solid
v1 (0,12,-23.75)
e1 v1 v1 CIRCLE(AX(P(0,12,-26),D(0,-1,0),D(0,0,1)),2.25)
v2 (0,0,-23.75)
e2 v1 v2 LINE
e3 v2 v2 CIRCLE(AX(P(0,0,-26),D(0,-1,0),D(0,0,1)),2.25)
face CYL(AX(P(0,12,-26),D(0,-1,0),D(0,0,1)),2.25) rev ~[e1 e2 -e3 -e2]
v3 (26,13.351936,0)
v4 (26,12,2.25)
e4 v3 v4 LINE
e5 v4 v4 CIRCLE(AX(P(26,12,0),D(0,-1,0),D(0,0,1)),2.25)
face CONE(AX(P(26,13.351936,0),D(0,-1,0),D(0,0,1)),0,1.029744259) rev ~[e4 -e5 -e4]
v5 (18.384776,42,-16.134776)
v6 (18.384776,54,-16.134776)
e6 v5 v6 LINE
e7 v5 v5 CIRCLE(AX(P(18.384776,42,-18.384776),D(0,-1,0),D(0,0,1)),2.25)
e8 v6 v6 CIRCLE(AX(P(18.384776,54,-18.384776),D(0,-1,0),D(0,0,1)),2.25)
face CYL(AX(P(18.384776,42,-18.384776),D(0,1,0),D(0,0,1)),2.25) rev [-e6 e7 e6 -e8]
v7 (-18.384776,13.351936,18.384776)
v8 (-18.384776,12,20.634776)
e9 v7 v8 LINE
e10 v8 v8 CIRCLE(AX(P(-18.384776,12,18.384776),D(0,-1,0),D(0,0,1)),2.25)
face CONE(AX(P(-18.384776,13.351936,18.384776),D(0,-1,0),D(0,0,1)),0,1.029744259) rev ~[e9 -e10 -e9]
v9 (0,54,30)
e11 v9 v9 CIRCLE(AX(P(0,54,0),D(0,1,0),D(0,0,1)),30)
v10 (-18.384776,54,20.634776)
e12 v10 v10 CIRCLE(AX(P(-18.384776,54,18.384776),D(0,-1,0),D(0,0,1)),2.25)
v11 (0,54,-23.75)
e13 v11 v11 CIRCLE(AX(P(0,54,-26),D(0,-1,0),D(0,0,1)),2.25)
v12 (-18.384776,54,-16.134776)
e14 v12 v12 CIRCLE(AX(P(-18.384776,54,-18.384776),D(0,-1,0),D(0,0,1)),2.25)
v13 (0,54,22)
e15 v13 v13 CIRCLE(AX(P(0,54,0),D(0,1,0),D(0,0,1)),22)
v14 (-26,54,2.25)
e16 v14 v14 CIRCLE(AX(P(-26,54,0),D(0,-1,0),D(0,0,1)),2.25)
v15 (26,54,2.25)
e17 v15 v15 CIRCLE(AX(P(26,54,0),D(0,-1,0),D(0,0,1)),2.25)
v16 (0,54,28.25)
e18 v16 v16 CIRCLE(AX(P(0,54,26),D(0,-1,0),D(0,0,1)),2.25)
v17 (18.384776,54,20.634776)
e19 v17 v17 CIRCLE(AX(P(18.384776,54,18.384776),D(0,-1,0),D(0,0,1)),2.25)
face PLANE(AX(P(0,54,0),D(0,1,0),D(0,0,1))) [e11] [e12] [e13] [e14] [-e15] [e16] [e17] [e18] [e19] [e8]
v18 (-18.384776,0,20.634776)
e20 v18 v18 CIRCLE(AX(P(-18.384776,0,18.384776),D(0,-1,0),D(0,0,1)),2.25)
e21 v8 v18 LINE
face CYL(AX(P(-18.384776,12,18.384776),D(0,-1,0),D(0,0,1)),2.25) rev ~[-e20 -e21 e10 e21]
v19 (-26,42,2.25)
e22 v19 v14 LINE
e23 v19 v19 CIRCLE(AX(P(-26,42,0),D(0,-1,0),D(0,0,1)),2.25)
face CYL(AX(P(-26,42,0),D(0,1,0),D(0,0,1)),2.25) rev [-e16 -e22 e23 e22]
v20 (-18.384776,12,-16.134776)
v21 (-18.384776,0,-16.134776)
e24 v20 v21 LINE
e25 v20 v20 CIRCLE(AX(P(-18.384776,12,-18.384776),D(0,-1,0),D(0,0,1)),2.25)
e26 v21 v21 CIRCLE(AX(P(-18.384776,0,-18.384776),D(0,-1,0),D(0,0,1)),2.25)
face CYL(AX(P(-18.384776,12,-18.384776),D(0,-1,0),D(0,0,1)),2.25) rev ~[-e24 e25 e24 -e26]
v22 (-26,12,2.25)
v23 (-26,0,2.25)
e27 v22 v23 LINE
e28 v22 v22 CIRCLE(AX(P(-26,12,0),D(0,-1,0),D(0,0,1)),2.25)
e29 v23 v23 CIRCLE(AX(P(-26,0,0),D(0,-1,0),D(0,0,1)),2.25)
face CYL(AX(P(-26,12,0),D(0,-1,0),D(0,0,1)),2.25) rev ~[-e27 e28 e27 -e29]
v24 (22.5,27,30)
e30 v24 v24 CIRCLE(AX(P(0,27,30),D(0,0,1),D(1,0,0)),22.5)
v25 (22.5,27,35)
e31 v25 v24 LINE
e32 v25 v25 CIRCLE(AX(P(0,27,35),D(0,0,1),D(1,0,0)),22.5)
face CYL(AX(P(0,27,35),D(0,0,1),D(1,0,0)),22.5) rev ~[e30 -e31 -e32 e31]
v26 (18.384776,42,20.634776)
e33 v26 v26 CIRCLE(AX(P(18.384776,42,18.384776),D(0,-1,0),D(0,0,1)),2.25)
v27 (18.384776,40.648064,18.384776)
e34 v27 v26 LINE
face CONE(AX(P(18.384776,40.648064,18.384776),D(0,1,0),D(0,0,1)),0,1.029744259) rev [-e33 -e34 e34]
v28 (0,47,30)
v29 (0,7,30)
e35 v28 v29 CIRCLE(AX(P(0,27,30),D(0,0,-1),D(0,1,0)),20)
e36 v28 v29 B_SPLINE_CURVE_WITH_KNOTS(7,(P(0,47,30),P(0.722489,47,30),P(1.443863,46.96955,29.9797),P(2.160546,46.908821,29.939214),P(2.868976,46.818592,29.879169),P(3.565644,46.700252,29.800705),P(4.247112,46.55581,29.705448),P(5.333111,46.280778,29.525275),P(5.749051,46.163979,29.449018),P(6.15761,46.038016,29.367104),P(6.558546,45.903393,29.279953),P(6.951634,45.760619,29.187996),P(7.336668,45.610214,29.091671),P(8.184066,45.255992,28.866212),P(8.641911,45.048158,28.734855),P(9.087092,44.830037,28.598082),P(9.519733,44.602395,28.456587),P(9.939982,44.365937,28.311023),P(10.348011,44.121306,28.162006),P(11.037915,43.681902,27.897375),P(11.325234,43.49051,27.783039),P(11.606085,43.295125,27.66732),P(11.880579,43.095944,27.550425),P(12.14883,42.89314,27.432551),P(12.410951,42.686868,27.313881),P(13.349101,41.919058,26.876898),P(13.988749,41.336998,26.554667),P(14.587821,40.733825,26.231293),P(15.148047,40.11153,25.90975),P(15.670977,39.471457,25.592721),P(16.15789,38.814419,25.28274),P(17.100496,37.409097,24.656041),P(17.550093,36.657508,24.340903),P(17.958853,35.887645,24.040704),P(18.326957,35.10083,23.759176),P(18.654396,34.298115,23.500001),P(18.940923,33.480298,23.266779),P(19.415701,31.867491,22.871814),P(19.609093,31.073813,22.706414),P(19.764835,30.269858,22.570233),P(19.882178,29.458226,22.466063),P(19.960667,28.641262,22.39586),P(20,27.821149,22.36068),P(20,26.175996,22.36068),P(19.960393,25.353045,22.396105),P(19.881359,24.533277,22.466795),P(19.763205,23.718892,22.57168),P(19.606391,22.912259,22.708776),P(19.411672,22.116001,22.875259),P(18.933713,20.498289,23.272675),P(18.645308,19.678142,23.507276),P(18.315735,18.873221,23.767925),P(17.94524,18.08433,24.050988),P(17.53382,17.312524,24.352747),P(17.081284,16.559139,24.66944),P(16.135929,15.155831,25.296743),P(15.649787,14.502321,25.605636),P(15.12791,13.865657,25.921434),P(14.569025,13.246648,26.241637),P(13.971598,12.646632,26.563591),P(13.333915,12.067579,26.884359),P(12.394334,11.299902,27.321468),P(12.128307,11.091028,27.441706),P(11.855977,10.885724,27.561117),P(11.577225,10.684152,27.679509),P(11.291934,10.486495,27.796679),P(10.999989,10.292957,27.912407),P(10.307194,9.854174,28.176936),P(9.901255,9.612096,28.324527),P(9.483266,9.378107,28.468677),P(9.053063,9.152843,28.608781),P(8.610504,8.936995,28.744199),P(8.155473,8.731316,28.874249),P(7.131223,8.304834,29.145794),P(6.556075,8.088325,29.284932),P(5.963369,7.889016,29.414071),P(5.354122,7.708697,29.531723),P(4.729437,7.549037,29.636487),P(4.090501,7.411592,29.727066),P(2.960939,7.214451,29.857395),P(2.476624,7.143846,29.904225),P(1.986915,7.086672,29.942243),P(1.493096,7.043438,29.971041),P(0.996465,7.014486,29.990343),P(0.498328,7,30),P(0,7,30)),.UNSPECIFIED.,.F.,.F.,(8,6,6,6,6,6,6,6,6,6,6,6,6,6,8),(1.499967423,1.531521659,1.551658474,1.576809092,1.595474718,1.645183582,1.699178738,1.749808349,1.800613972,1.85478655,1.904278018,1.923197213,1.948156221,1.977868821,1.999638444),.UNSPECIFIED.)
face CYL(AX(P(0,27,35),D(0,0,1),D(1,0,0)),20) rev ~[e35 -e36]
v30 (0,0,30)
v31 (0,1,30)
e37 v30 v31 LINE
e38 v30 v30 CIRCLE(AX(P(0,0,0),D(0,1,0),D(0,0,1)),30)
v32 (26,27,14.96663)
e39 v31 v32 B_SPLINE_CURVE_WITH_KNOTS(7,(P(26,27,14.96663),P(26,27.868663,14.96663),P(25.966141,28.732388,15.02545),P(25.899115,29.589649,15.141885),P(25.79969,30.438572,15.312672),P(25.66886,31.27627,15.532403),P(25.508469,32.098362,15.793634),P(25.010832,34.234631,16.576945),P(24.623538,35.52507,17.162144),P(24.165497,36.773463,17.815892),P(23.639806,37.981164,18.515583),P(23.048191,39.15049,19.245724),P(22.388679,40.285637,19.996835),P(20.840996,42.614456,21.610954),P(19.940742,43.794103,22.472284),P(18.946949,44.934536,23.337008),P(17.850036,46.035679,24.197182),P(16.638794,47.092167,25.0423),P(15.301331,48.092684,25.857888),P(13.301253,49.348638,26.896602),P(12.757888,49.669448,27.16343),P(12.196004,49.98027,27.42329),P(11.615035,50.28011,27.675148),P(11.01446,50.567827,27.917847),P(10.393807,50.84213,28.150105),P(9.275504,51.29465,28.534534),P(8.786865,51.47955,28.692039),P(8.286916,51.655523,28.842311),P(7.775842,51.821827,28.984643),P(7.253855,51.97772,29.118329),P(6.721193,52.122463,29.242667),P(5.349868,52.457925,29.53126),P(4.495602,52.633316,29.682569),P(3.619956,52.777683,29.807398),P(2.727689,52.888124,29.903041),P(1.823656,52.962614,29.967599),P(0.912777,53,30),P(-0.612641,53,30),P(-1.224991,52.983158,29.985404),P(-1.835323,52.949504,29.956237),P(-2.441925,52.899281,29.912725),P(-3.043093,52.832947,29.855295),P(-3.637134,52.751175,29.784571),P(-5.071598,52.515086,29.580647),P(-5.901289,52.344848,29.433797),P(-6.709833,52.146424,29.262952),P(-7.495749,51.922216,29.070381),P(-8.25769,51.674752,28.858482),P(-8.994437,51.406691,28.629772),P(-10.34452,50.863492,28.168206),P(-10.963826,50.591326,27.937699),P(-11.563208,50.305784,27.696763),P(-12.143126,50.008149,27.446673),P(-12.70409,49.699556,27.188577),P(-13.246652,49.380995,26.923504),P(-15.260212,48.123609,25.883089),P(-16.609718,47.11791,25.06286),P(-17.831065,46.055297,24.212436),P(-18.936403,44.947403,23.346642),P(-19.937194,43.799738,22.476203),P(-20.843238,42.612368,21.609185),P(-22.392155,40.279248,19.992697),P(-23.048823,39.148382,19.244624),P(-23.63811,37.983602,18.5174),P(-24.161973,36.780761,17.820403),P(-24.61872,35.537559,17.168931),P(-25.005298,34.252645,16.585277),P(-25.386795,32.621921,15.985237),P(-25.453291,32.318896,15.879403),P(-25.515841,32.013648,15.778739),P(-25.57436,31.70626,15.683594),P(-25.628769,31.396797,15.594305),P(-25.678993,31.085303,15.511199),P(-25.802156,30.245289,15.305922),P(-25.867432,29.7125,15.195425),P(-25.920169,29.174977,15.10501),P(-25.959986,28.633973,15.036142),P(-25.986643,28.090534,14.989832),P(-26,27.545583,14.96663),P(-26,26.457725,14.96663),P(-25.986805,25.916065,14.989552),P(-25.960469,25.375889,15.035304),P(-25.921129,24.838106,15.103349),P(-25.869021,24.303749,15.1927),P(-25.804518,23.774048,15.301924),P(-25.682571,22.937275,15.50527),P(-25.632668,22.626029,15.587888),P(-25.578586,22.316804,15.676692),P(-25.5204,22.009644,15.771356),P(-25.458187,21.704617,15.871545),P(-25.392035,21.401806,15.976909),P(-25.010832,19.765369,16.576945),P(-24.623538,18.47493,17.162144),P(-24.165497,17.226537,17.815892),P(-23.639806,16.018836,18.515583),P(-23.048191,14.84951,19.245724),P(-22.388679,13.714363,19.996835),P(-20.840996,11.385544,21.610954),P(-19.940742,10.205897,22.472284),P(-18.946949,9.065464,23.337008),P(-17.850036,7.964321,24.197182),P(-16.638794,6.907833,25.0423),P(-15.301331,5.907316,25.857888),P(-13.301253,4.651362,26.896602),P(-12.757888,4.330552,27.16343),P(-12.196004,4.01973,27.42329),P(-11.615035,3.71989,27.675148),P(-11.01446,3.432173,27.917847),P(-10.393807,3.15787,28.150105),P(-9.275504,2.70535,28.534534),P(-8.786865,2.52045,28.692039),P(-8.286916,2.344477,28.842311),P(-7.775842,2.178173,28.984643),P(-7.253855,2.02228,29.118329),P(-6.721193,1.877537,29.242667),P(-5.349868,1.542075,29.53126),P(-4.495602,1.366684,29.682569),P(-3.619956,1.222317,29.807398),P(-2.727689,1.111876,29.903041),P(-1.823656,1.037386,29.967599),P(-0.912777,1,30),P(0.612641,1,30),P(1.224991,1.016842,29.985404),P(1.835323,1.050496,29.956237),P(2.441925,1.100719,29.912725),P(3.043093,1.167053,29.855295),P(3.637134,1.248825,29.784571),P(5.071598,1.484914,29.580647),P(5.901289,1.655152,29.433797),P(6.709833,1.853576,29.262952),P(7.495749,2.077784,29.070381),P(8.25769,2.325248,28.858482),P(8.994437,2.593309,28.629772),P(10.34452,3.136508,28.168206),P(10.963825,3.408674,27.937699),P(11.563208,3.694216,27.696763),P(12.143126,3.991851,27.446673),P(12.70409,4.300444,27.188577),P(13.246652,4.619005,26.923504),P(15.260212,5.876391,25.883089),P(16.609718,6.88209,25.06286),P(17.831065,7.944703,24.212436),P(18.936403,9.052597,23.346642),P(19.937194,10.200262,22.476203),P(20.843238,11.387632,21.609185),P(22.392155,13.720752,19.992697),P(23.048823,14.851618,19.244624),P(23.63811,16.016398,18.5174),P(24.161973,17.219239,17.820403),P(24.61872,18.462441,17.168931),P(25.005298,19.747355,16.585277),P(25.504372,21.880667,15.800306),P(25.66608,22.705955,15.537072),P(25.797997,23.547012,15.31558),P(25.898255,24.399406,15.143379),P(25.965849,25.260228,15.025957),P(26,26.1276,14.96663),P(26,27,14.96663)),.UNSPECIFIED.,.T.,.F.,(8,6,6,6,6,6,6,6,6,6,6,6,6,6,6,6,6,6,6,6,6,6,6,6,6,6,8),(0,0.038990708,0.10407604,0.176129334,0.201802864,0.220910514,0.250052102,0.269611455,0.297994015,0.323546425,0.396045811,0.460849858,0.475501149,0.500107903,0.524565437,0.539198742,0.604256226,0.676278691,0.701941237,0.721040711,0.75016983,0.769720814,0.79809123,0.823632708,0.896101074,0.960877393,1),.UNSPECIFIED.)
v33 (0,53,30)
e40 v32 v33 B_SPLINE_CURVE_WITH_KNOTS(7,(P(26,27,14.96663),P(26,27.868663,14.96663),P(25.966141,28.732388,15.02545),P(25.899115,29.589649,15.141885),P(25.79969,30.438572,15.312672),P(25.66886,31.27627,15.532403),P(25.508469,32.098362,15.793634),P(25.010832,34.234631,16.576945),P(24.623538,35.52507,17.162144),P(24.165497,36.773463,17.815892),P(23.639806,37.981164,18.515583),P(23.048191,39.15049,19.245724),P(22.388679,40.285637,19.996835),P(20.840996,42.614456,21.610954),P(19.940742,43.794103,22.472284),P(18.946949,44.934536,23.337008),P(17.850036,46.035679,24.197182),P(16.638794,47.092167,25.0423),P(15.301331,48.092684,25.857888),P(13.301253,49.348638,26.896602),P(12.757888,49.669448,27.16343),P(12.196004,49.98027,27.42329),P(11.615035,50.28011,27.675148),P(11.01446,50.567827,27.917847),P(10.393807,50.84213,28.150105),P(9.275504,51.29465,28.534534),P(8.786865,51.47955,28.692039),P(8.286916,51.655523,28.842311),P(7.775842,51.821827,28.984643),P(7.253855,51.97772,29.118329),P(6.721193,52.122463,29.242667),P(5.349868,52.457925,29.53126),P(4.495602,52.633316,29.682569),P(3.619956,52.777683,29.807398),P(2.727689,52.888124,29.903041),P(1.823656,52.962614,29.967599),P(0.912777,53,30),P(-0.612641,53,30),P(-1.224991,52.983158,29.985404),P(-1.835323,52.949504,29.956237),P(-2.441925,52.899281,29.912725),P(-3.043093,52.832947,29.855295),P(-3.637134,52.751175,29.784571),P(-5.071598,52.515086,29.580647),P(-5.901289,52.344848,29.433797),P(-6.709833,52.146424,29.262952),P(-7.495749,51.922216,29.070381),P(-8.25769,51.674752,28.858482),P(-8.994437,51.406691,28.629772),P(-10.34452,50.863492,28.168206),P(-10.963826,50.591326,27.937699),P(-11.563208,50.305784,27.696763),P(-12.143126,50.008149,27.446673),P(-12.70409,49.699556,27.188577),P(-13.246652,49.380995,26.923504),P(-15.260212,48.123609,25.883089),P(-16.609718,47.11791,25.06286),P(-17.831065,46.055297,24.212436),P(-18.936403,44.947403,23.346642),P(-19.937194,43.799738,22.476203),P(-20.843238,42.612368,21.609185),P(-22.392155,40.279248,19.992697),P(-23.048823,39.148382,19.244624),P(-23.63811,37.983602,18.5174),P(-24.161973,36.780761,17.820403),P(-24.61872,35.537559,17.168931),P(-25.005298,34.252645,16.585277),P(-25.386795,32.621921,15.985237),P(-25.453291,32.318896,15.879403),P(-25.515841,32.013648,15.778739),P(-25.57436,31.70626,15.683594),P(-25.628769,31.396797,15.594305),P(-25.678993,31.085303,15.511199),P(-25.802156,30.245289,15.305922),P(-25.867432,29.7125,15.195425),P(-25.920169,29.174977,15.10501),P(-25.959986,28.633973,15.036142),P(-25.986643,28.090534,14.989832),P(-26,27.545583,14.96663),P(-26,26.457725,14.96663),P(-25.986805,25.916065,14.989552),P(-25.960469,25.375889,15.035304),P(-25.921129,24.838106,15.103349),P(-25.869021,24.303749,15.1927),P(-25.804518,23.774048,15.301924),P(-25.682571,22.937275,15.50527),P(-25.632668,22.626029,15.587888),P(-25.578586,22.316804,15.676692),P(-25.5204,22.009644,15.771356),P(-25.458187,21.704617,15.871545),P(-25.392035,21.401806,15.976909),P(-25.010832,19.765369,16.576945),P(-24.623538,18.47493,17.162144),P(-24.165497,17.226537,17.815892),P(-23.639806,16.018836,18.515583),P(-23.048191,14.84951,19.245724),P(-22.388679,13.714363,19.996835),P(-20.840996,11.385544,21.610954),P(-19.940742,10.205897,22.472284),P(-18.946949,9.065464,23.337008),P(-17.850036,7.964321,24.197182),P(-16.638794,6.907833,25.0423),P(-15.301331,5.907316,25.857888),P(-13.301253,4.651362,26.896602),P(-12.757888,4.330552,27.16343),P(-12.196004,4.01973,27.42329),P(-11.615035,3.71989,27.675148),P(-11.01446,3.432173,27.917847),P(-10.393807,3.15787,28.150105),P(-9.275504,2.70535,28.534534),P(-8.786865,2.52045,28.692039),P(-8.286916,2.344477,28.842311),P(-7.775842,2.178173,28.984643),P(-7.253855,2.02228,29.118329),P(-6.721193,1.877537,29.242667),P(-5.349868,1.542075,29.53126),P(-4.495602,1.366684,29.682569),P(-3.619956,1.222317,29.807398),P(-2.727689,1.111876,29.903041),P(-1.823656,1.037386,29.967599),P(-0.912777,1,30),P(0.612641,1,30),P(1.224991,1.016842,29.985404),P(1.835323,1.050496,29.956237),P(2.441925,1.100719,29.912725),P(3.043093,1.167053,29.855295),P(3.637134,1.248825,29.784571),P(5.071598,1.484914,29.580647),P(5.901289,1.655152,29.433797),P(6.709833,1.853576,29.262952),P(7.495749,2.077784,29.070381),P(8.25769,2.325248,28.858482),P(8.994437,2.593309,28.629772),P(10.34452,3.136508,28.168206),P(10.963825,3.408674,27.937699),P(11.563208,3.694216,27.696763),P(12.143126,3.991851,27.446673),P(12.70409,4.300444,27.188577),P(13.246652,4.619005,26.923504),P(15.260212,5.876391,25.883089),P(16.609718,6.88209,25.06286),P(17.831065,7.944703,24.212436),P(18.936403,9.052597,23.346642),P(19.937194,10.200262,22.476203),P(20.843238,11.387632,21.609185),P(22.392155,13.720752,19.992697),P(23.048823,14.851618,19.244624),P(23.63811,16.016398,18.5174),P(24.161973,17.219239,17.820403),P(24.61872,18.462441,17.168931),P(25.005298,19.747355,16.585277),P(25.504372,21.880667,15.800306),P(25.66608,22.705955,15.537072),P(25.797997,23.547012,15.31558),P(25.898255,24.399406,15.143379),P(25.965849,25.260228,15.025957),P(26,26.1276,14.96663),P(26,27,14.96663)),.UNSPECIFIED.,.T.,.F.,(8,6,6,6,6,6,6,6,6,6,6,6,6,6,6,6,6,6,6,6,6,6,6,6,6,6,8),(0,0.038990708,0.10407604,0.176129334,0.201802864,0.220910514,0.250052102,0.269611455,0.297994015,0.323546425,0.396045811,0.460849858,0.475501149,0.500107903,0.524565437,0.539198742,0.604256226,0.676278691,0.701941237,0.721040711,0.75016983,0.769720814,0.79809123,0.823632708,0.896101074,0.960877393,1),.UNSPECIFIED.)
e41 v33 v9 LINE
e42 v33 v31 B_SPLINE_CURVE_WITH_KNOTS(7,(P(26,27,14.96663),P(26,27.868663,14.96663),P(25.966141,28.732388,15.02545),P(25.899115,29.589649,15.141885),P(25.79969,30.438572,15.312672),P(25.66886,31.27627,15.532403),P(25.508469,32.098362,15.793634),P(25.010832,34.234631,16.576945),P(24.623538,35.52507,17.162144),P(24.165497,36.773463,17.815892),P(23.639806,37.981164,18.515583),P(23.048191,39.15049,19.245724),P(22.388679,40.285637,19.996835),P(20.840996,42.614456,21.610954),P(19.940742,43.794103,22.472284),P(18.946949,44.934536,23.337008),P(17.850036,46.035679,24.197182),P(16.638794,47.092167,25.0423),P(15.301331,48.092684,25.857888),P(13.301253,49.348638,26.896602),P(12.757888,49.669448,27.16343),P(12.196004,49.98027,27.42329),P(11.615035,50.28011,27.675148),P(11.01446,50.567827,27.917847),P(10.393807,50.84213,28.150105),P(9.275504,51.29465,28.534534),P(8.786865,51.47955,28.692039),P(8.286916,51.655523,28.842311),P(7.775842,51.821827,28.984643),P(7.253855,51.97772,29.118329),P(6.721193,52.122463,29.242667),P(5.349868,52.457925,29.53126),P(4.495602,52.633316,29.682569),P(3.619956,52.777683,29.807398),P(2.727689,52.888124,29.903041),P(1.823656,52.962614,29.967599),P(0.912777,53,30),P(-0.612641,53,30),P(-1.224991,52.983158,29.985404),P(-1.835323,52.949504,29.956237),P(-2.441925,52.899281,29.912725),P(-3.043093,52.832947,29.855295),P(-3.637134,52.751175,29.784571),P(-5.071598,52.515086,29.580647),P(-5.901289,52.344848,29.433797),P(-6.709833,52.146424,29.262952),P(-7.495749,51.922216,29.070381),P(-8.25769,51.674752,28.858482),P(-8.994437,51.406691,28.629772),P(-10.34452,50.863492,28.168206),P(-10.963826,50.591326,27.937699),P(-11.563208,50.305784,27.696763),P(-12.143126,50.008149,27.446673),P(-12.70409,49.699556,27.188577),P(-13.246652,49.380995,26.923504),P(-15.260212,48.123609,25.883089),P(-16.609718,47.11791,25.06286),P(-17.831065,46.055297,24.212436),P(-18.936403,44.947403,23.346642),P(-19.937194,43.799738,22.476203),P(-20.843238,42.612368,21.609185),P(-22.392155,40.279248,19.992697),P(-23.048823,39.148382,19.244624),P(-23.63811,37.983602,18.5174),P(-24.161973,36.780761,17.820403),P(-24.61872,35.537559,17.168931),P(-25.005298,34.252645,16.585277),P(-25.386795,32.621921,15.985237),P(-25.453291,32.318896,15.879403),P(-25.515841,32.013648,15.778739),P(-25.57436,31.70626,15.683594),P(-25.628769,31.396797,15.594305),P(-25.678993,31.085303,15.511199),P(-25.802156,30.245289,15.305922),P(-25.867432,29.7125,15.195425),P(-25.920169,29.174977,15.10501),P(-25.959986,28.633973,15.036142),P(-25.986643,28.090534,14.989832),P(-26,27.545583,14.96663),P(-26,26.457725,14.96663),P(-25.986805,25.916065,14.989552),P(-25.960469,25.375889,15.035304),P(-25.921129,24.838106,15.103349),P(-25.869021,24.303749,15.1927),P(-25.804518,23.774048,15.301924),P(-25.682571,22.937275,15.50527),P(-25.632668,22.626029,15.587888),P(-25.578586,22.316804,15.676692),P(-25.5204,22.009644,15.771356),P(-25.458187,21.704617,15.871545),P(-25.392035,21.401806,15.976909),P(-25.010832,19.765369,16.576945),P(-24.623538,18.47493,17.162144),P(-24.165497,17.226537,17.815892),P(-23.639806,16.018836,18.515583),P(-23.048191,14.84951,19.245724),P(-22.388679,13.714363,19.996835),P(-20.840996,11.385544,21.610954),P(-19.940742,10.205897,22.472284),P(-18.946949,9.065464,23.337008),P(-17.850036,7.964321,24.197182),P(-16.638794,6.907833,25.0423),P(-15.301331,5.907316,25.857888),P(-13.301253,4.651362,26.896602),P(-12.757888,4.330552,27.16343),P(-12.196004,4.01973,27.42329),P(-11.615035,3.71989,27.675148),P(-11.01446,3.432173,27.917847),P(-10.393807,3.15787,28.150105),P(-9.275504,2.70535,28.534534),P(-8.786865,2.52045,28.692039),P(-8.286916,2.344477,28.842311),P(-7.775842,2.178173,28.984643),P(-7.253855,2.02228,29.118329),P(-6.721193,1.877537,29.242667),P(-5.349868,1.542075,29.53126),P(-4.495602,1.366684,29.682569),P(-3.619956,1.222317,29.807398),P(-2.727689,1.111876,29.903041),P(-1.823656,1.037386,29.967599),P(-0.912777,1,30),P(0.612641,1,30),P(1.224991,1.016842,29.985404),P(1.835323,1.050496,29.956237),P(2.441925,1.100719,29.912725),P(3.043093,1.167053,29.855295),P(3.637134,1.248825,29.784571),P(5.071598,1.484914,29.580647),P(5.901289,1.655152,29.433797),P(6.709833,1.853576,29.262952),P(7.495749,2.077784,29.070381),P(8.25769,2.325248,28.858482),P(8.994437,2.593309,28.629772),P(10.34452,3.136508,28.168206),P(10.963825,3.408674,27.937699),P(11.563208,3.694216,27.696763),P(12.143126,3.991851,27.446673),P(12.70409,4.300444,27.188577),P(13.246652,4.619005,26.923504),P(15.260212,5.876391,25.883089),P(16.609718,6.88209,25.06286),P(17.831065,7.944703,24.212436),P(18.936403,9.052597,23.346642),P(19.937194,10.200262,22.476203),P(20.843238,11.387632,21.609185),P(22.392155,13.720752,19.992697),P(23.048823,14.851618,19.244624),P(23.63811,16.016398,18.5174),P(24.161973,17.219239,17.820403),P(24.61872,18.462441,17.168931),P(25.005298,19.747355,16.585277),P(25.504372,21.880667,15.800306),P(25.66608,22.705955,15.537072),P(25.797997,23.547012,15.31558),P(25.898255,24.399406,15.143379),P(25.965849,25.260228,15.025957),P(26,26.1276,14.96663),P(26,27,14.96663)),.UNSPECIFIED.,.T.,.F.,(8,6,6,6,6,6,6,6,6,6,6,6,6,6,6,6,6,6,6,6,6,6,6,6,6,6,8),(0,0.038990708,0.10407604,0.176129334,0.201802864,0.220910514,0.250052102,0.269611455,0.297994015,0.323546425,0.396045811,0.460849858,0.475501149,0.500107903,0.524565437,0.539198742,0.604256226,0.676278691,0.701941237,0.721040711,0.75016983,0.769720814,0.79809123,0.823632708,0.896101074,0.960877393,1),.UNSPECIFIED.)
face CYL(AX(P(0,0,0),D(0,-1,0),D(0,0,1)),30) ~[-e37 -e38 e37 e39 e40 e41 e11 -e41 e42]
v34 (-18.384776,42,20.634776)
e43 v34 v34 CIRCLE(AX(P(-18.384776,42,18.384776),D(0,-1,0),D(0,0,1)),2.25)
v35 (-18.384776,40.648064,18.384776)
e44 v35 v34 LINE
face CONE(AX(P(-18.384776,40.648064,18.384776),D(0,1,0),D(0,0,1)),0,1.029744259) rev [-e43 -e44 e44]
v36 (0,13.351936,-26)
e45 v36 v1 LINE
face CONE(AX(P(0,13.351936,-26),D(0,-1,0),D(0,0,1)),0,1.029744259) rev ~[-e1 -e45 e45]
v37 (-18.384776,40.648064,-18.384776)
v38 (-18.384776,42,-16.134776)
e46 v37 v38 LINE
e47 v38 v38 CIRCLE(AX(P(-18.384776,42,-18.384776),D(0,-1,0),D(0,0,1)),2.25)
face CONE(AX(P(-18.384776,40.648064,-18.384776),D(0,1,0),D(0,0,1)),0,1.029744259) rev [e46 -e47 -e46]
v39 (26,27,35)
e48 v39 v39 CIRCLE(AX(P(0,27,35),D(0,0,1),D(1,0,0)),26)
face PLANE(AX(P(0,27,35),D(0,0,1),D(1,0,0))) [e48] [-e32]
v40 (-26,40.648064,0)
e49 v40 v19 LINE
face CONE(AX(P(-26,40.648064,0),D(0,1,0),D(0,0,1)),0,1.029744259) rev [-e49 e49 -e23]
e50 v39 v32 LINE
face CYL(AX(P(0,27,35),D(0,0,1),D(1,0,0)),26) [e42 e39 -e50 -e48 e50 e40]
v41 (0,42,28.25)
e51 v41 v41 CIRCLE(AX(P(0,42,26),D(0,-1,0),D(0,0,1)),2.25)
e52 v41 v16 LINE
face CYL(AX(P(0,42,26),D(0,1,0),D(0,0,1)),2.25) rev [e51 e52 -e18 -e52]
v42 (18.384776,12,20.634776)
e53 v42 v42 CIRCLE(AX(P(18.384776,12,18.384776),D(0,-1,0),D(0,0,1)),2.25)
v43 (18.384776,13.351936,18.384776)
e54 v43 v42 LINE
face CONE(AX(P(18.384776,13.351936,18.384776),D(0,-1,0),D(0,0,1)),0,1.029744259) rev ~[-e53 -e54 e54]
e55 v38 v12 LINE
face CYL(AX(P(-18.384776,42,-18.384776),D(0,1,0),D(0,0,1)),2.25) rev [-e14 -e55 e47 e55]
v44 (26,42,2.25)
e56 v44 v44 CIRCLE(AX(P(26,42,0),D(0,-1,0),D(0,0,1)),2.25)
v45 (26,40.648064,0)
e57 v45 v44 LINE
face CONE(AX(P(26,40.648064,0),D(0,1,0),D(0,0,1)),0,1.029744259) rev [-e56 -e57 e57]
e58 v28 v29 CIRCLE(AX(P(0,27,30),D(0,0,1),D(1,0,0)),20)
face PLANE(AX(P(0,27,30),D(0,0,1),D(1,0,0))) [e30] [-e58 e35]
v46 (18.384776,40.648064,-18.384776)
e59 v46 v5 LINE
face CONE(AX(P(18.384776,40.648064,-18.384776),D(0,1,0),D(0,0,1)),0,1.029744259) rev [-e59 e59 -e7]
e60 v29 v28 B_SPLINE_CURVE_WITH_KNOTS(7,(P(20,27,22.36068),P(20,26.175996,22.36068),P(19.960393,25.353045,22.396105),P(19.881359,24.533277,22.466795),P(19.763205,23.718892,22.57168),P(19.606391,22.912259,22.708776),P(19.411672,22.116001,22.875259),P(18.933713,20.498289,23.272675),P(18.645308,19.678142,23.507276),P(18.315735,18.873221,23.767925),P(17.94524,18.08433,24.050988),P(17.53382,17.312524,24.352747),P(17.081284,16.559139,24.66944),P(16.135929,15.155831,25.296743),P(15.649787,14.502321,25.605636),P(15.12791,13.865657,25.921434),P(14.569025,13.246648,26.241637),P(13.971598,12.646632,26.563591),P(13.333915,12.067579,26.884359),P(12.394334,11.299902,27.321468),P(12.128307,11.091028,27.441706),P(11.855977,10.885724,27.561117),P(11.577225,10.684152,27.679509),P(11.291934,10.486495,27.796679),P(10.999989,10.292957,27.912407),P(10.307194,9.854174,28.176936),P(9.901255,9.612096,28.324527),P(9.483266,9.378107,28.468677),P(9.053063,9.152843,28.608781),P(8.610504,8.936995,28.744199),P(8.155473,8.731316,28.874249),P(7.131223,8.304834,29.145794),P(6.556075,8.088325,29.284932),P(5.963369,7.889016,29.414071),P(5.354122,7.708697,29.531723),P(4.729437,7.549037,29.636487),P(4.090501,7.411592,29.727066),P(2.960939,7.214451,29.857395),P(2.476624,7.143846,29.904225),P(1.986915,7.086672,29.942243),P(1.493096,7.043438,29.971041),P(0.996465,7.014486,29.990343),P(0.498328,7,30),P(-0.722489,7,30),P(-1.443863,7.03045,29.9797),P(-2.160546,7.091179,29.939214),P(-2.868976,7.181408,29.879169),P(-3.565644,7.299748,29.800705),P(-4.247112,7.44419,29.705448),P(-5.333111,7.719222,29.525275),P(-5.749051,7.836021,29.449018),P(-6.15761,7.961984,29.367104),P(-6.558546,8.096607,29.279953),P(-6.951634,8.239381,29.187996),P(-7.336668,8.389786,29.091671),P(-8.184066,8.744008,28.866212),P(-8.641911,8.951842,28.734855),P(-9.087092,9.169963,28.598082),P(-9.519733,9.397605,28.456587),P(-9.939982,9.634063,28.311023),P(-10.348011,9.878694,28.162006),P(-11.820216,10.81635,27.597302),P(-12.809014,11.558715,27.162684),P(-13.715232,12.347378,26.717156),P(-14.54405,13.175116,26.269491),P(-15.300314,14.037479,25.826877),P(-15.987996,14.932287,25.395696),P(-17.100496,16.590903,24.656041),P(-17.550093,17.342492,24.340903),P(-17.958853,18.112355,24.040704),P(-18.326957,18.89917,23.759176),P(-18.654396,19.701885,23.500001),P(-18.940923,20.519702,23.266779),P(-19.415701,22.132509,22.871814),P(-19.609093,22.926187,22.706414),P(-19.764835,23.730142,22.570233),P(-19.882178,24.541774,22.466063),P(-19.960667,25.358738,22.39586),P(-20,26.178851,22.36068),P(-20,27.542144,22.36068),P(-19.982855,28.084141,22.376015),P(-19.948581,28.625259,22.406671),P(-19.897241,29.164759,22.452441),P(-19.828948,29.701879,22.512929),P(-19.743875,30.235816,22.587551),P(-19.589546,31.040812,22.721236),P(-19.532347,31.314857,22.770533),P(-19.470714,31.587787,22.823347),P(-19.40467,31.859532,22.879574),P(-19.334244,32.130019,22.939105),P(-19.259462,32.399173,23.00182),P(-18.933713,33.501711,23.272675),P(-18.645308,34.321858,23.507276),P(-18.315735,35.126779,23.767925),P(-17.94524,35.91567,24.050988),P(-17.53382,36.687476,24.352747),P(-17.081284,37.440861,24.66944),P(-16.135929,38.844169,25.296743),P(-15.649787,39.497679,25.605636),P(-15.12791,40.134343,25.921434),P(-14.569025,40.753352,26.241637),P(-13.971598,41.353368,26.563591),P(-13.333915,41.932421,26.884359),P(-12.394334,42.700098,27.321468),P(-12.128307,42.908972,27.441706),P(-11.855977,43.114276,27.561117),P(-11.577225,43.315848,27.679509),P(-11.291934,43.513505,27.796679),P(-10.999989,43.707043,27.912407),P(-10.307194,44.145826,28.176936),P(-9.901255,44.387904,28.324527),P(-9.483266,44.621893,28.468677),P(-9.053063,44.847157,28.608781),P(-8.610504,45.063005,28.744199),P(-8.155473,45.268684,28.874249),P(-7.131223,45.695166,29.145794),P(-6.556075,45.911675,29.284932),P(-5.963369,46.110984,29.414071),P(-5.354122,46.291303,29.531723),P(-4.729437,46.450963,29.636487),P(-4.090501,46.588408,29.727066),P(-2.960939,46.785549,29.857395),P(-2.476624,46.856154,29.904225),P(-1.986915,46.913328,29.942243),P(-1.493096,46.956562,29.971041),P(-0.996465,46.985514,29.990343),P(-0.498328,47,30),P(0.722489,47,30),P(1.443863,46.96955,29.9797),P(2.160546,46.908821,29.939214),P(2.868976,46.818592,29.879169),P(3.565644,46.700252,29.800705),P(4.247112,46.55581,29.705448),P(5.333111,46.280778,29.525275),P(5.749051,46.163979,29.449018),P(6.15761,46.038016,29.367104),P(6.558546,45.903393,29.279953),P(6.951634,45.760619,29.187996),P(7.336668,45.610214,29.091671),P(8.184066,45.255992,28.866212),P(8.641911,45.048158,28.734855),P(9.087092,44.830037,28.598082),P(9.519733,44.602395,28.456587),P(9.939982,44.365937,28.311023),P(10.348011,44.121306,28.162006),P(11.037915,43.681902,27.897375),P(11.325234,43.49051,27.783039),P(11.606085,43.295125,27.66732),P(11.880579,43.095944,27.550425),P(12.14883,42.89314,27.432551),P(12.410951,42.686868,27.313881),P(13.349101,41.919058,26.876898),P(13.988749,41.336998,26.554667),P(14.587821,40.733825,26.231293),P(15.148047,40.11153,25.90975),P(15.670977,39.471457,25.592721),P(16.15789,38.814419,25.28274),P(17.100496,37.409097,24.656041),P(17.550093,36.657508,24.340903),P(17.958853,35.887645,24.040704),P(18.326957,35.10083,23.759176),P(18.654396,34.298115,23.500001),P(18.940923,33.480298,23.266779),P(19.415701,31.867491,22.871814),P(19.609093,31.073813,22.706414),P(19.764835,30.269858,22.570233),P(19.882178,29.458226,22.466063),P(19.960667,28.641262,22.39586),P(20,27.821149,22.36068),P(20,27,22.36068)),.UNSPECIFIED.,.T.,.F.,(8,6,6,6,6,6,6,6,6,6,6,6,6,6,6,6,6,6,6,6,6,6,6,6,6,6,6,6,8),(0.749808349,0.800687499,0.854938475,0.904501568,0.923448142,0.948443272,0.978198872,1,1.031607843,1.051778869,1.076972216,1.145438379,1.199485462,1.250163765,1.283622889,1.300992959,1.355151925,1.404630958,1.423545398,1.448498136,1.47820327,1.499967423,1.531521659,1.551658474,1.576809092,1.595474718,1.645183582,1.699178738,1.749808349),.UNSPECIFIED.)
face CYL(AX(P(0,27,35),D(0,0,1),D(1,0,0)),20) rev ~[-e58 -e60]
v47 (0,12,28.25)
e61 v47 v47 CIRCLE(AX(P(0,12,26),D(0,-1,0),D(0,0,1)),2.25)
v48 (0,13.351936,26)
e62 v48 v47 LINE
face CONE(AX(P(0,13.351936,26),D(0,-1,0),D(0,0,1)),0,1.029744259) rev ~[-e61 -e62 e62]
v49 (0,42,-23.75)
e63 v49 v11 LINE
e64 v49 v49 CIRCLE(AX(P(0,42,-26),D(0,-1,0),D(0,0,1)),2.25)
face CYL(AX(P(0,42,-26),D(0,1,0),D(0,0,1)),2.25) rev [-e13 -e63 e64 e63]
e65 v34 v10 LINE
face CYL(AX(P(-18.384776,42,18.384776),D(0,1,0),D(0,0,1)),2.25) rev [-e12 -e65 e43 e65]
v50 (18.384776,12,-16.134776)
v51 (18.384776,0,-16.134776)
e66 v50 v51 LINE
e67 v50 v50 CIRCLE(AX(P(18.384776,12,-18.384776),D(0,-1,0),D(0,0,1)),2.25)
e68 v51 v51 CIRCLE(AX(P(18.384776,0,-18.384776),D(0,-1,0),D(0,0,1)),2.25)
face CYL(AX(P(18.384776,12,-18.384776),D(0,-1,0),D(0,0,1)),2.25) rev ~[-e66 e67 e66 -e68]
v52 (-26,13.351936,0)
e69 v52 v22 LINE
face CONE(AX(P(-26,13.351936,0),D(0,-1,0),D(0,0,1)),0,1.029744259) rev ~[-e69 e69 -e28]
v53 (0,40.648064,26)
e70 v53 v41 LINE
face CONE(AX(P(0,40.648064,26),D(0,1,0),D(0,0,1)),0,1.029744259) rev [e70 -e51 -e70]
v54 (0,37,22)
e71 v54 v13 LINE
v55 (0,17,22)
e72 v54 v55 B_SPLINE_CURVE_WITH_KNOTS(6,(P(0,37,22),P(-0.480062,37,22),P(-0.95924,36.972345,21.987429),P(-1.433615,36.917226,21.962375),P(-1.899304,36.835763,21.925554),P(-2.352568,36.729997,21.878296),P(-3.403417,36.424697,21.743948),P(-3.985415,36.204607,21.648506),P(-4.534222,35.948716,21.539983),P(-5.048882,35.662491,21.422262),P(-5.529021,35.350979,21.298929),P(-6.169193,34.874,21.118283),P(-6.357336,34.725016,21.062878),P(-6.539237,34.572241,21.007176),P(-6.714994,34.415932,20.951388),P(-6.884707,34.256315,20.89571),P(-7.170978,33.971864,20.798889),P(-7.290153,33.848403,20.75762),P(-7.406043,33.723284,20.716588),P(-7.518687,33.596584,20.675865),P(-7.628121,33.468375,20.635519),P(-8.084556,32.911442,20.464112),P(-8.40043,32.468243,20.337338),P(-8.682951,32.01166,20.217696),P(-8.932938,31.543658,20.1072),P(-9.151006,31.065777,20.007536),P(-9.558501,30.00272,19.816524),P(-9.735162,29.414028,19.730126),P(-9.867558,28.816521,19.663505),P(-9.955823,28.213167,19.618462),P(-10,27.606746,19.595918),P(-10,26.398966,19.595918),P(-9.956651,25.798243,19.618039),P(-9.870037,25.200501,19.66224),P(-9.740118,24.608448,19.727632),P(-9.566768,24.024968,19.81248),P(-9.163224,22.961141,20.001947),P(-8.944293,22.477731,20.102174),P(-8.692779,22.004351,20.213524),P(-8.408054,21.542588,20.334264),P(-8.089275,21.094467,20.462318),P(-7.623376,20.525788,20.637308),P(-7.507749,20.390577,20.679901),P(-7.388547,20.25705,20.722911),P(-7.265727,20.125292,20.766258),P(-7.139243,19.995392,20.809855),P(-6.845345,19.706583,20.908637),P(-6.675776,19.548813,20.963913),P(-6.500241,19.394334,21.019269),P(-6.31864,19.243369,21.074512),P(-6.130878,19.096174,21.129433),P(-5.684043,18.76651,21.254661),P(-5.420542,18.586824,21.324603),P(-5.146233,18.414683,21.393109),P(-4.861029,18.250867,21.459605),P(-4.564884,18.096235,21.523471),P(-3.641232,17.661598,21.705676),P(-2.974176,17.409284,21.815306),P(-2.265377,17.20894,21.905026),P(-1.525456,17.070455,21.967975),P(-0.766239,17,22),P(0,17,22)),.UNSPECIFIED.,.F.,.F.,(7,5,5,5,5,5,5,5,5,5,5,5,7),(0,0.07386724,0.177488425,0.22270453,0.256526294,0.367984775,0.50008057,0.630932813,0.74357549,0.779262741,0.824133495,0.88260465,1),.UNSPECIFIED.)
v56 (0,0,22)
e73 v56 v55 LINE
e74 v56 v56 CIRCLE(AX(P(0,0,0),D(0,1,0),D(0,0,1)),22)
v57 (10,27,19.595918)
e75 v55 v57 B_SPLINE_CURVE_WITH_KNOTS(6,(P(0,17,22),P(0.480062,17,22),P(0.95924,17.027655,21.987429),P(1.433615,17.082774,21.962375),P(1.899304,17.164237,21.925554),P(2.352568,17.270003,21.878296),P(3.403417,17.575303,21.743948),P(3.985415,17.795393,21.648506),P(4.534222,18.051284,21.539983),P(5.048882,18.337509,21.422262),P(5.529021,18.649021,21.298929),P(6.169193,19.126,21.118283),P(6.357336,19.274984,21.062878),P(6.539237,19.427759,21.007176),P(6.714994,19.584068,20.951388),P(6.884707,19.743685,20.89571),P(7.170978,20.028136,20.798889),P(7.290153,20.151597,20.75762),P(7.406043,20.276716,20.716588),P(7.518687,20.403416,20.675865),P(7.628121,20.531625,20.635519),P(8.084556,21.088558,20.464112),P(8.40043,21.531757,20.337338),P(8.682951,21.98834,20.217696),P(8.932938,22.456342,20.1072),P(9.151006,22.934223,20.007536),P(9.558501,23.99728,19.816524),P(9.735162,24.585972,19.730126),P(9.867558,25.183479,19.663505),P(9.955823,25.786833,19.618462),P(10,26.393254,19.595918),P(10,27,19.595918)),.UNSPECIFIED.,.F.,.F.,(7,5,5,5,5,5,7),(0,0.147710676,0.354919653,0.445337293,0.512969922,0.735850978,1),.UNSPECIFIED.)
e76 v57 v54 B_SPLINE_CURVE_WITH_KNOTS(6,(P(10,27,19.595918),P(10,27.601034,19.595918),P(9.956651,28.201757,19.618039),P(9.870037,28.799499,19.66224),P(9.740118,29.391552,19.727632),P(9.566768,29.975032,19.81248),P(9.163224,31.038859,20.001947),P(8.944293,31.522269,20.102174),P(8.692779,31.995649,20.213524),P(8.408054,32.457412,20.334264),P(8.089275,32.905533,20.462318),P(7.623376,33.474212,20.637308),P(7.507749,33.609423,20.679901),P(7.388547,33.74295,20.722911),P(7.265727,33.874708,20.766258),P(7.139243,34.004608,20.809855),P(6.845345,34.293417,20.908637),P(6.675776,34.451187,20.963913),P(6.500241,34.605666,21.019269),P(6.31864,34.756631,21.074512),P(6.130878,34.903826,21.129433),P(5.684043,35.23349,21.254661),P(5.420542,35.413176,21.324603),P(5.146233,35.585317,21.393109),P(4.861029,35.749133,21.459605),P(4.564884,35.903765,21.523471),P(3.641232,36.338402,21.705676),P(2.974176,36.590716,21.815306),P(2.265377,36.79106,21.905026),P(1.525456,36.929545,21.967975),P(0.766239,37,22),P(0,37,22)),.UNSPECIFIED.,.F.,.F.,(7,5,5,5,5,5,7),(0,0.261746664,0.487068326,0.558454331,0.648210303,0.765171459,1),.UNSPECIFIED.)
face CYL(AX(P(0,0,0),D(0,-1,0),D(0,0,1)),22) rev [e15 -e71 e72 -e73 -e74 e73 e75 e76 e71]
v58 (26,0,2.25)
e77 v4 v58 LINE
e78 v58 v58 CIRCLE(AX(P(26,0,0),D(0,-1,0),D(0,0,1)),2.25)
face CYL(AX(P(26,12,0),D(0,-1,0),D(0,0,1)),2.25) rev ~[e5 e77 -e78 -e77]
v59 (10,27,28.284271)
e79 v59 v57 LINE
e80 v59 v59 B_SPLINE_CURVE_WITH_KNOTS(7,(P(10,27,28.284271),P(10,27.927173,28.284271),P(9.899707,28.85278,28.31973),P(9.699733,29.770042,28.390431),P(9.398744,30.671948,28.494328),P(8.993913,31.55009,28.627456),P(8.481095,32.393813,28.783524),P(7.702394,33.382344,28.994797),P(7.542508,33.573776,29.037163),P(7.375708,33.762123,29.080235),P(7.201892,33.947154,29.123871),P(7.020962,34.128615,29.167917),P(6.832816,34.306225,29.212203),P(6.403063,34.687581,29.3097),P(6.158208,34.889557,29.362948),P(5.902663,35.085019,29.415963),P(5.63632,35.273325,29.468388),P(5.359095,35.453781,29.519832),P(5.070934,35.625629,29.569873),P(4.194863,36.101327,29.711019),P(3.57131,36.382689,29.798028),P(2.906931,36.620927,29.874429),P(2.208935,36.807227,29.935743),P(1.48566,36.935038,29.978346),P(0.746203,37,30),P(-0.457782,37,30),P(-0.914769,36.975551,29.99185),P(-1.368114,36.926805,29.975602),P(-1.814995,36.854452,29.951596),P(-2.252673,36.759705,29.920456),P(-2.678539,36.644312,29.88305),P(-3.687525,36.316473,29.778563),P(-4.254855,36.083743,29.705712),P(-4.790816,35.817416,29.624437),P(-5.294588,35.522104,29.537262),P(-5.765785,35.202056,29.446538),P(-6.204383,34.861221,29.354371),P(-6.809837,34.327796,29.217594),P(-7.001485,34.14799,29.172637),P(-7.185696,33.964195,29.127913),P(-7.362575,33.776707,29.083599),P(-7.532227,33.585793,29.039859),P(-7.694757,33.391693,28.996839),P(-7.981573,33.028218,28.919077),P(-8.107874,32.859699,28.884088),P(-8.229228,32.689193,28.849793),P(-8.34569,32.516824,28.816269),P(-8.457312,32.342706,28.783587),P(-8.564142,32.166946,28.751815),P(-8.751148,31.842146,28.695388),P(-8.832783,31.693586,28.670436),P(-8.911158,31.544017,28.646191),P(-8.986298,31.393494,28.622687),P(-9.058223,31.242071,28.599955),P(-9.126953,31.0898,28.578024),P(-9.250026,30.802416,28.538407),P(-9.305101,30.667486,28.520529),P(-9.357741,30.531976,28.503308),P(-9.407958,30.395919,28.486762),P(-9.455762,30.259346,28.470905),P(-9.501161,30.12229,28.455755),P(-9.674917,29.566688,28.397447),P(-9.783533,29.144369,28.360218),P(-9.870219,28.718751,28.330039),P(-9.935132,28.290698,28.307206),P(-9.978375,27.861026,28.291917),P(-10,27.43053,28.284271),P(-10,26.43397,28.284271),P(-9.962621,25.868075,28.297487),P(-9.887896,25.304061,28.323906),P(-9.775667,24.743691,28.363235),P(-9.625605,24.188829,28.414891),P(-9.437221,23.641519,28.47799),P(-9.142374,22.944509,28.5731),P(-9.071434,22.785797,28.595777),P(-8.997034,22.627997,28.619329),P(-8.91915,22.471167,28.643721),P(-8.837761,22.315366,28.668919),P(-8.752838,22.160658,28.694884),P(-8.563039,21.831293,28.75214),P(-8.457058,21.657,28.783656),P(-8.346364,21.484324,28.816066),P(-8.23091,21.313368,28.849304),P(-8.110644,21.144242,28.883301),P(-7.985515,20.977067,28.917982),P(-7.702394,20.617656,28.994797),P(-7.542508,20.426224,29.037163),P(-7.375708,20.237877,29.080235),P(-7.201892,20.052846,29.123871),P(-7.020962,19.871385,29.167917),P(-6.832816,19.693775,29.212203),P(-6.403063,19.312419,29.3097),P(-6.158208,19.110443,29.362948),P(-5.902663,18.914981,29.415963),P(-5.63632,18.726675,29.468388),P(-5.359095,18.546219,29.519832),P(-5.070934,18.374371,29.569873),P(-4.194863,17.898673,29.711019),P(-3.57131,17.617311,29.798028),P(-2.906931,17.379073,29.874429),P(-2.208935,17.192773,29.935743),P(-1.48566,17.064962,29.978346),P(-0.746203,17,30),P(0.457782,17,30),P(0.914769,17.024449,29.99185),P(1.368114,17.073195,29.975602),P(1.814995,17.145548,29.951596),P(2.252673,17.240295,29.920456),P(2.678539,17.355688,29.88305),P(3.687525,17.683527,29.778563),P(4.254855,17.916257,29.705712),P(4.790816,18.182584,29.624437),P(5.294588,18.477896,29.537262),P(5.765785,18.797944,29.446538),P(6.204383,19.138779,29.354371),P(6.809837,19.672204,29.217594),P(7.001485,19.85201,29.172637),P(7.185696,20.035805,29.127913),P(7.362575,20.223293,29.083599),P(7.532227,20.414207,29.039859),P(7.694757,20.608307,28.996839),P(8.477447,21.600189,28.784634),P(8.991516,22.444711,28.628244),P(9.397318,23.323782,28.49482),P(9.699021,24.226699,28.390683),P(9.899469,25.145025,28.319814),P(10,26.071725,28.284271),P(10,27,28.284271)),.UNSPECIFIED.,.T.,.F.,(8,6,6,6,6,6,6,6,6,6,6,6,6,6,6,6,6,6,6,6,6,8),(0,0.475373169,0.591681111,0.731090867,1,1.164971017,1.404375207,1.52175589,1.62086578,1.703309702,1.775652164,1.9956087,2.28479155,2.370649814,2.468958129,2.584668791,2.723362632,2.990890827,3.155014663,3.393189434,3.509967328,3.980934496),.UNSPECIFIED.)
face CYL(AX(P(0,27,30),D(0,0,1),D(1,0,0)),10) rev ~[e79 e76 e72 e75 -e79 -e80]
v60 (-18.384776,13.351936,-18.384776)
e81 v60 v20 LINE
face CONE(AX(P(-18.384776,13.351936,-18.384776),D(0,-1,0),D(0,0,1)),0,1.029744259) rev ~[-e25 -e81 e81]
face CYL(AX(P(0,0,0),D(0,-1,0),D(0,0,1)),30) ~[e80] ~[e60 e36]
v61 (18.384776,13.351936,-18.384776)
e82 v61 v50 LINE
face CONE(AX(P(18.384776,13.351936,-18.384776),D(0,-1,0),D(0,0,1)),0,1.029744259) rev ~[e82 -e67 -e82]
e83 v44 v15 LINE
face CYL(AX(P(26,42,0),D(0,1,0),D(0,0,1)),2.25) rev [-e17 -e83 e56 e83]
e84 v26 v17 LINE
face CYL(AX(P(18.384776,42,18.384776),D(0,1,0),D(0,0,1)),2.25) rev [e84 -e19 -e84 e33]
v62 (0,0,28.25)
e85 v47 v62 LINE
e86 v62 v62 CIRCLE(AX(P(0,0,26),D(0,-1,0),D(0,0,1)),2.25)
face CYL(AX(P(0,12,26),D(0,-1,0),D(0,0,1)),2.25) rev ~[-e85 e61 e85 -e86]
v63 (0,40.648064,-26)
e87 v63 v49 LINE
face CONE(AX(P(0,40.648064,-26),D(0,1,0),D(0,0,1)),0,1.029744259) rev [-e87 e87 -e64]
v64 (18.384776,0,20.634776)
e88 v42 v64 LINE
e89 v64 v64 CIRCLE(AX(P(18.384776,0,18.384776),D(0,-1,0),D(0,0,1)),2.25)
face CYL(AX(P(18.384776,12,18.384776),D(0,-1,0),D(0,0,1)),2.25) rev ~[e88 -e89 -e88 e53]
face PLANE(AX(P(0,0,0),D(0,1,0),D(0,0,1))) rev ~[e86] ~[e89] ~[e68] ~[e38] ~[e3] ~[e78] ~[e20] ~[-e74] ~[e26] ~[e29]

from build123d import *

# Parameters (mm, degrees)
SKETCH_1_R                 = 30
SKETCH_1_R_2               = 22
EXTRUDE_1_DEPTH            = 54
HOLE_WIZARD_M41_AT_2_COUNT = 2
HOLE_WIZARD_M41_AT_2_PITCH = 19.899538483
HOLE_WIZARD_M41_AT_3_COUNT = 2
HOLE_WIZARD_M41_AT_3_PITCH = 36.769552622
HOLE_WIZARD_M41_AT_4_COUNT = 2
HOLE_WIZARD_M41_AT_4_PITCH = 48.041735691
HOLE_WIZARD_M41_AT_5_COUNT = 2
HOLE_WIZARD_M41_AT_5_PITCH = 52
HOLE_WIZARD_M41_AT_6_COUNT = 2
HOLE_WIZARD_M41_AT_6_PITCH = 48.041735691
HOLE_WIZARD_M41_AT_7_COUNT = 2
HOLE_WIZARD_M41_AT_7_PITCH = 36.769552622
HOLE_WIZARD_M41_AT_8_COUNT = 2
HOLE_WIZARD_M41_AT_8_PITCH = 19.899538483
EXTRUDE_2_REACH            = 91.672
EXTRUDE_2_END_RADIUS       = 30
SKETCH_7_R                 = 26
SKETCH_7_R_2               = 20
SKETCH_9_R                 = 22.5
CUT_EXTRUDE_3_DEPTH        = 5
SKETCH_10_R                = 10
CUT_EXTRUDE_4_DEPTH        = 15


with BuildPart() as part:
    # Эскиз1 → Бобышка-Вытянуть1 (new body)
    with BuildSketch(Plane(origin=(0, 0, 0), x_dir=(1, 0, 0), z_dir=(0, 1, 0))):
        with Locations(Location((0, 0, 0), (0, 0, 270))):
            Circle(SKETCH_1_R)
        with Locations(Location((0, 0, 0), (0, 0, 270))):
            Circle(SKETCH_1_R_2, mode=Mode.SUBTRACT)
    extrude(amount=EXTRUDE_1_DEPTH)

    # Эскиз5 → Отверстие с зазором M41 (revolve, cut)
    with BuildSketch(Plane(origin=(-18.384776311, 54, -18.384776311), x_dir=(0, 0, 1), z_dir=(1, 0, 0))):
        Polygon((0, 0), (0, 13.351936393), (2.25, 12), (2.25, 0), align=None)
    hole_wizard_m41 = revolve(axis=Axis((-18.384776311, 60.35, -18.384776311), (0, -1, 0)), mode=Mode.SUBTRACT)

    # Отверстие с зазором M41 at 2: Отверстие с зазором M41 ×2
    with Locations(*[Vector(0.9238795325112705, 0, -0.38268343236512914) * (i * HOLE_WIZARD_M41_AT_2_PITCH) for i in range(1, HOLE_WIZARD_M41_AT_2_COUNT)]):
        add(hole_wizard_m41, mode=Mode.SUBTRACT)

    # Отверстие с зазором M41 at 3: Отверстие с зазором M41 ×2
    with Locations(*[(i * HOLE_WIZARD_M41_AT_3_PITCH, 0, 0) for i in range(1, HOLE_WIZARD_M41_AT_3_COUNT)]):
        add(hole_wizard_m41, mode=Mode.SUBTRACT)

    # Отверстие с зазором M41 at 4: Отверстие с зазором M41 ×2
    with Locations(*[Vector(0.9238795325113031, 0, 0.3826834323650504) * (i * HOLE_WIZARD_M41_AT_4_PITCH) for i in range(1, HOLE_WIZARD_M41_AT_4_COUNT)]):
        add(hole_wizard_m41, mode=Mode.SUBTRACT)

    # Отверстие с зазором M41 at 5: Отверстие с зазором M41 ×2
    with Locations(*[Vector(0.7071067811865778, 0, 0.7071067811865174) * (i * HOLE_WIZARD_M41_AT_5_PITCH) for i in range(1, HOLE_WIZARD_M41_AT_5_COUNT)]):
        add(hole_wizard_m41, mode=Mode.SUBTRACT)

    # Отверстие с зазором M41 at 6: Отверстие с зазором M41 ×2
    with Locations(*[Vector(0.38268343236512914, 0, 0.9238795325112705) * (i * HOLE_WIZARD_M41_AT_6_PITCH) for i in range(1, HOLE_WIZARD_M41_AT_6_COUNT)]):
        add(hole_wizard_m41, mode=Mode.SUBTRACT)

    # Отверстие с зазором M41 at 7: Отверстие с зазором M41 ×2
    with Locations(*[(0, 0, i * HOLE_WIZARD_M41_AT_7_PITCH) for i in range(1, HOLE_WIZARD_M41_AT_7_COUNT)]):
        add(hole_wizard_m41, mode=Mode.SUBTRACT)

    # Отверстие с зазором M41 at 8: Отверстие с зазором M41 ×2
    with Locations(*[Vector(-0.3826834323650503, 0, 0.9238795325113031) * (i * HOLE_WIZARD_M41_AT_8_PITCH) for i in range(1, HOLE_WIZARD_M41_AT_8_COUNT)]):
        add(hole_wizard_m41, mode=Mode.SUBTRACT)

    # Зеркальное отражение1: Отверстие с зазором M41 across plane
    add(hole_wizard_m41.mirror(Plane.ZX.offset(27)), mode=Mode.SUBTRACT)

    # Зеркальное отражение1 copy 1 sketch → Зеркальное отражение1 copy 1 (revolve, cut)
    with BuildSketch(Plane(origin=(0, 0, -26), x_dir=(0, 0, 1), z_dir=(1, 0, 0))):
        Polygon((0, 0), (0, -13.351936393), (2.25, -12), (2.25, 0), align=None)
    revolve(axis=Axis((0, -6.35, -26), (0, -1, 0)), mode=Mode.SUBTRACT)

    # Зеркальное отражение1 copy 2 sketch → Зеркальное отражение1 copy 2 (revolve, cut)
    with BuildSketch(Plane(origin=(18.384776311, 0, -18.384776311), x_dir=(0, 0, 1), z_dir=(1, 0, 0))):
        Polygon((0, 0), (0, -13.351936393), (2.25, -12), (2.25, 0), align=None)
    revolve(axis=Axis((18.384776311, -6.35, -18.384776311), (0, -1, 0)), mode=Mode.SUBTRACT)

    # Зеркальное отражение1 copy 3 sketch → Зеркальное отражение1 copy 3 (revolve, cut)
    with BuildSketch(Plane(origin=(26, 0, 0), x_dir=(0, 0, 1), z_dir=(1, 0, 0))):
        Polygon((0, 0), (0, -13.351936393), (2.25, -12), (2.25, 0), align=None)
    revolve(axis=Axis((26, -6.35, 0), (0, -1, 0)), mode=Mode.SUBTRACT)

    # Зеркальное отражение1 copy 4 sketch → Зеркальное отражение1 copy 4 (revolve, cut)
    with BuildSketch(Plane(origin=(18.384776311, 0, 18.384776311), x_dir=(0, 0, 1), z_dir=(1, 0, 0))):
        Polygon((0, 0), (0, -13.351936393), (2.25, -12), (2.25, 0), align=None)
    revolve(axis=Axis((18.384776311, -6.35, 18.384776311), (0, -1, 0)), mode=Mode.SUBTRACT)

    # Зеркальное отражение1 copy 5 sketch → Зеркальное отражение1 copy 5 (revolve, cut)
    with BuildSketch(Plane(origin=(0, 0, 26), x_dir=(0, 0, 1), z_dir=(1, 0, 0))):
        Polygon((0, 0), (0, -13.351936393), (2.25, -12), (2.25, 0), align=None)
    revolve(axis=Axis((0, -6.35, 26), (0, -1, 0)), mode=Mode.SUBTRACT)

    # Зеркальное отражение1 copy 6 sketch → Зеркальное отражение1 copy 6 (revolve, cut)
    with BuildSketch(Plane(origin=(-18.384776311, 0, 18.384776311), x_dir=(0, 0, 1), z_dir=(1, 0, 0))):
        Polygon((0, 0), (0, -13.351936393), (2.25, -12), (2.25, 0), align=None)
    revolve(axis=Axis((-18.384776311, -6.35, 18.384776311), (0, -1, 0)), mode=Mode.SUBTRACT)

    # Зеркальное отражение1 copy 7 sketch → Зеркальное отражение1 copy 7 (revolve, cut)
    with BuildSketch(Plane(origin=(-26, 0, 0), x_dir=(0, 0, 1), z_dir=(1, 0, 0))):
        Polygon((0, 0), (0, -13.351936393), (2.25, -12), (2.25, 0), align=None)
    revolve(axis=Axis((-26, -6.35, 0), (0, -1, 0)), mode=Mode.SUBTRACT)

    # Бобышка-Вытянуть2: up to this cylinder (the profile starts outside it)
    extrude_2_end = Plane(origin=(0, 27, 0), z_dir=(0, -1, 0)) * Cylinder(EXTRUDE_2_END_RADIUS, 244.344, mode=Mode.PRIVATE)
    # Эскиз7 → Бобышка-Вытянуть2 (add, up to the surface)
    with BuildSketch(Plane.XY.offset(35), mode=Mode.PRIVATE) as extrude_2_sk1:
        with Locations((0, 27)):
            Circle(SKETCH_7_R)
        with Locations((0, 27)):
            Circle(SKETCH_7_R_2, mode=Mode.SUBTRACT)
    extrude_2_tool1 = extrude(extrude_2_sk1.sketch, amount=-EXTRUDE_2_REACH, mode=Mode.PRIVATE) - extrude_2_end
    add(extrude_2_tool1.solids().sort_by_distance((-25.264609, 27, 35))[0])

    # Эскиз9 → Вырез-Вытянуть3 (cut)
    with BuildSketch(Plane.XY.offset(35)):
        with Locations((0, 27)):
            Circle(SKETCH_9_R)
    extrude(amount=-CUT_EXTRUDE_3_DEPTH, mode=Mode.SUBTRACT)

    # Эскиз10 → Вырез-Вытянуть4 (cut)
    with BuildSketch(Plane.XY.offset(30)):
        with Locations((0, 27)):
            Circle(SKETCH_10_R)
    extrude(amount=-CUT_EXTRUDE_4_DEPTH, mode=Mode.SUBTRACT)


solid = part.part
